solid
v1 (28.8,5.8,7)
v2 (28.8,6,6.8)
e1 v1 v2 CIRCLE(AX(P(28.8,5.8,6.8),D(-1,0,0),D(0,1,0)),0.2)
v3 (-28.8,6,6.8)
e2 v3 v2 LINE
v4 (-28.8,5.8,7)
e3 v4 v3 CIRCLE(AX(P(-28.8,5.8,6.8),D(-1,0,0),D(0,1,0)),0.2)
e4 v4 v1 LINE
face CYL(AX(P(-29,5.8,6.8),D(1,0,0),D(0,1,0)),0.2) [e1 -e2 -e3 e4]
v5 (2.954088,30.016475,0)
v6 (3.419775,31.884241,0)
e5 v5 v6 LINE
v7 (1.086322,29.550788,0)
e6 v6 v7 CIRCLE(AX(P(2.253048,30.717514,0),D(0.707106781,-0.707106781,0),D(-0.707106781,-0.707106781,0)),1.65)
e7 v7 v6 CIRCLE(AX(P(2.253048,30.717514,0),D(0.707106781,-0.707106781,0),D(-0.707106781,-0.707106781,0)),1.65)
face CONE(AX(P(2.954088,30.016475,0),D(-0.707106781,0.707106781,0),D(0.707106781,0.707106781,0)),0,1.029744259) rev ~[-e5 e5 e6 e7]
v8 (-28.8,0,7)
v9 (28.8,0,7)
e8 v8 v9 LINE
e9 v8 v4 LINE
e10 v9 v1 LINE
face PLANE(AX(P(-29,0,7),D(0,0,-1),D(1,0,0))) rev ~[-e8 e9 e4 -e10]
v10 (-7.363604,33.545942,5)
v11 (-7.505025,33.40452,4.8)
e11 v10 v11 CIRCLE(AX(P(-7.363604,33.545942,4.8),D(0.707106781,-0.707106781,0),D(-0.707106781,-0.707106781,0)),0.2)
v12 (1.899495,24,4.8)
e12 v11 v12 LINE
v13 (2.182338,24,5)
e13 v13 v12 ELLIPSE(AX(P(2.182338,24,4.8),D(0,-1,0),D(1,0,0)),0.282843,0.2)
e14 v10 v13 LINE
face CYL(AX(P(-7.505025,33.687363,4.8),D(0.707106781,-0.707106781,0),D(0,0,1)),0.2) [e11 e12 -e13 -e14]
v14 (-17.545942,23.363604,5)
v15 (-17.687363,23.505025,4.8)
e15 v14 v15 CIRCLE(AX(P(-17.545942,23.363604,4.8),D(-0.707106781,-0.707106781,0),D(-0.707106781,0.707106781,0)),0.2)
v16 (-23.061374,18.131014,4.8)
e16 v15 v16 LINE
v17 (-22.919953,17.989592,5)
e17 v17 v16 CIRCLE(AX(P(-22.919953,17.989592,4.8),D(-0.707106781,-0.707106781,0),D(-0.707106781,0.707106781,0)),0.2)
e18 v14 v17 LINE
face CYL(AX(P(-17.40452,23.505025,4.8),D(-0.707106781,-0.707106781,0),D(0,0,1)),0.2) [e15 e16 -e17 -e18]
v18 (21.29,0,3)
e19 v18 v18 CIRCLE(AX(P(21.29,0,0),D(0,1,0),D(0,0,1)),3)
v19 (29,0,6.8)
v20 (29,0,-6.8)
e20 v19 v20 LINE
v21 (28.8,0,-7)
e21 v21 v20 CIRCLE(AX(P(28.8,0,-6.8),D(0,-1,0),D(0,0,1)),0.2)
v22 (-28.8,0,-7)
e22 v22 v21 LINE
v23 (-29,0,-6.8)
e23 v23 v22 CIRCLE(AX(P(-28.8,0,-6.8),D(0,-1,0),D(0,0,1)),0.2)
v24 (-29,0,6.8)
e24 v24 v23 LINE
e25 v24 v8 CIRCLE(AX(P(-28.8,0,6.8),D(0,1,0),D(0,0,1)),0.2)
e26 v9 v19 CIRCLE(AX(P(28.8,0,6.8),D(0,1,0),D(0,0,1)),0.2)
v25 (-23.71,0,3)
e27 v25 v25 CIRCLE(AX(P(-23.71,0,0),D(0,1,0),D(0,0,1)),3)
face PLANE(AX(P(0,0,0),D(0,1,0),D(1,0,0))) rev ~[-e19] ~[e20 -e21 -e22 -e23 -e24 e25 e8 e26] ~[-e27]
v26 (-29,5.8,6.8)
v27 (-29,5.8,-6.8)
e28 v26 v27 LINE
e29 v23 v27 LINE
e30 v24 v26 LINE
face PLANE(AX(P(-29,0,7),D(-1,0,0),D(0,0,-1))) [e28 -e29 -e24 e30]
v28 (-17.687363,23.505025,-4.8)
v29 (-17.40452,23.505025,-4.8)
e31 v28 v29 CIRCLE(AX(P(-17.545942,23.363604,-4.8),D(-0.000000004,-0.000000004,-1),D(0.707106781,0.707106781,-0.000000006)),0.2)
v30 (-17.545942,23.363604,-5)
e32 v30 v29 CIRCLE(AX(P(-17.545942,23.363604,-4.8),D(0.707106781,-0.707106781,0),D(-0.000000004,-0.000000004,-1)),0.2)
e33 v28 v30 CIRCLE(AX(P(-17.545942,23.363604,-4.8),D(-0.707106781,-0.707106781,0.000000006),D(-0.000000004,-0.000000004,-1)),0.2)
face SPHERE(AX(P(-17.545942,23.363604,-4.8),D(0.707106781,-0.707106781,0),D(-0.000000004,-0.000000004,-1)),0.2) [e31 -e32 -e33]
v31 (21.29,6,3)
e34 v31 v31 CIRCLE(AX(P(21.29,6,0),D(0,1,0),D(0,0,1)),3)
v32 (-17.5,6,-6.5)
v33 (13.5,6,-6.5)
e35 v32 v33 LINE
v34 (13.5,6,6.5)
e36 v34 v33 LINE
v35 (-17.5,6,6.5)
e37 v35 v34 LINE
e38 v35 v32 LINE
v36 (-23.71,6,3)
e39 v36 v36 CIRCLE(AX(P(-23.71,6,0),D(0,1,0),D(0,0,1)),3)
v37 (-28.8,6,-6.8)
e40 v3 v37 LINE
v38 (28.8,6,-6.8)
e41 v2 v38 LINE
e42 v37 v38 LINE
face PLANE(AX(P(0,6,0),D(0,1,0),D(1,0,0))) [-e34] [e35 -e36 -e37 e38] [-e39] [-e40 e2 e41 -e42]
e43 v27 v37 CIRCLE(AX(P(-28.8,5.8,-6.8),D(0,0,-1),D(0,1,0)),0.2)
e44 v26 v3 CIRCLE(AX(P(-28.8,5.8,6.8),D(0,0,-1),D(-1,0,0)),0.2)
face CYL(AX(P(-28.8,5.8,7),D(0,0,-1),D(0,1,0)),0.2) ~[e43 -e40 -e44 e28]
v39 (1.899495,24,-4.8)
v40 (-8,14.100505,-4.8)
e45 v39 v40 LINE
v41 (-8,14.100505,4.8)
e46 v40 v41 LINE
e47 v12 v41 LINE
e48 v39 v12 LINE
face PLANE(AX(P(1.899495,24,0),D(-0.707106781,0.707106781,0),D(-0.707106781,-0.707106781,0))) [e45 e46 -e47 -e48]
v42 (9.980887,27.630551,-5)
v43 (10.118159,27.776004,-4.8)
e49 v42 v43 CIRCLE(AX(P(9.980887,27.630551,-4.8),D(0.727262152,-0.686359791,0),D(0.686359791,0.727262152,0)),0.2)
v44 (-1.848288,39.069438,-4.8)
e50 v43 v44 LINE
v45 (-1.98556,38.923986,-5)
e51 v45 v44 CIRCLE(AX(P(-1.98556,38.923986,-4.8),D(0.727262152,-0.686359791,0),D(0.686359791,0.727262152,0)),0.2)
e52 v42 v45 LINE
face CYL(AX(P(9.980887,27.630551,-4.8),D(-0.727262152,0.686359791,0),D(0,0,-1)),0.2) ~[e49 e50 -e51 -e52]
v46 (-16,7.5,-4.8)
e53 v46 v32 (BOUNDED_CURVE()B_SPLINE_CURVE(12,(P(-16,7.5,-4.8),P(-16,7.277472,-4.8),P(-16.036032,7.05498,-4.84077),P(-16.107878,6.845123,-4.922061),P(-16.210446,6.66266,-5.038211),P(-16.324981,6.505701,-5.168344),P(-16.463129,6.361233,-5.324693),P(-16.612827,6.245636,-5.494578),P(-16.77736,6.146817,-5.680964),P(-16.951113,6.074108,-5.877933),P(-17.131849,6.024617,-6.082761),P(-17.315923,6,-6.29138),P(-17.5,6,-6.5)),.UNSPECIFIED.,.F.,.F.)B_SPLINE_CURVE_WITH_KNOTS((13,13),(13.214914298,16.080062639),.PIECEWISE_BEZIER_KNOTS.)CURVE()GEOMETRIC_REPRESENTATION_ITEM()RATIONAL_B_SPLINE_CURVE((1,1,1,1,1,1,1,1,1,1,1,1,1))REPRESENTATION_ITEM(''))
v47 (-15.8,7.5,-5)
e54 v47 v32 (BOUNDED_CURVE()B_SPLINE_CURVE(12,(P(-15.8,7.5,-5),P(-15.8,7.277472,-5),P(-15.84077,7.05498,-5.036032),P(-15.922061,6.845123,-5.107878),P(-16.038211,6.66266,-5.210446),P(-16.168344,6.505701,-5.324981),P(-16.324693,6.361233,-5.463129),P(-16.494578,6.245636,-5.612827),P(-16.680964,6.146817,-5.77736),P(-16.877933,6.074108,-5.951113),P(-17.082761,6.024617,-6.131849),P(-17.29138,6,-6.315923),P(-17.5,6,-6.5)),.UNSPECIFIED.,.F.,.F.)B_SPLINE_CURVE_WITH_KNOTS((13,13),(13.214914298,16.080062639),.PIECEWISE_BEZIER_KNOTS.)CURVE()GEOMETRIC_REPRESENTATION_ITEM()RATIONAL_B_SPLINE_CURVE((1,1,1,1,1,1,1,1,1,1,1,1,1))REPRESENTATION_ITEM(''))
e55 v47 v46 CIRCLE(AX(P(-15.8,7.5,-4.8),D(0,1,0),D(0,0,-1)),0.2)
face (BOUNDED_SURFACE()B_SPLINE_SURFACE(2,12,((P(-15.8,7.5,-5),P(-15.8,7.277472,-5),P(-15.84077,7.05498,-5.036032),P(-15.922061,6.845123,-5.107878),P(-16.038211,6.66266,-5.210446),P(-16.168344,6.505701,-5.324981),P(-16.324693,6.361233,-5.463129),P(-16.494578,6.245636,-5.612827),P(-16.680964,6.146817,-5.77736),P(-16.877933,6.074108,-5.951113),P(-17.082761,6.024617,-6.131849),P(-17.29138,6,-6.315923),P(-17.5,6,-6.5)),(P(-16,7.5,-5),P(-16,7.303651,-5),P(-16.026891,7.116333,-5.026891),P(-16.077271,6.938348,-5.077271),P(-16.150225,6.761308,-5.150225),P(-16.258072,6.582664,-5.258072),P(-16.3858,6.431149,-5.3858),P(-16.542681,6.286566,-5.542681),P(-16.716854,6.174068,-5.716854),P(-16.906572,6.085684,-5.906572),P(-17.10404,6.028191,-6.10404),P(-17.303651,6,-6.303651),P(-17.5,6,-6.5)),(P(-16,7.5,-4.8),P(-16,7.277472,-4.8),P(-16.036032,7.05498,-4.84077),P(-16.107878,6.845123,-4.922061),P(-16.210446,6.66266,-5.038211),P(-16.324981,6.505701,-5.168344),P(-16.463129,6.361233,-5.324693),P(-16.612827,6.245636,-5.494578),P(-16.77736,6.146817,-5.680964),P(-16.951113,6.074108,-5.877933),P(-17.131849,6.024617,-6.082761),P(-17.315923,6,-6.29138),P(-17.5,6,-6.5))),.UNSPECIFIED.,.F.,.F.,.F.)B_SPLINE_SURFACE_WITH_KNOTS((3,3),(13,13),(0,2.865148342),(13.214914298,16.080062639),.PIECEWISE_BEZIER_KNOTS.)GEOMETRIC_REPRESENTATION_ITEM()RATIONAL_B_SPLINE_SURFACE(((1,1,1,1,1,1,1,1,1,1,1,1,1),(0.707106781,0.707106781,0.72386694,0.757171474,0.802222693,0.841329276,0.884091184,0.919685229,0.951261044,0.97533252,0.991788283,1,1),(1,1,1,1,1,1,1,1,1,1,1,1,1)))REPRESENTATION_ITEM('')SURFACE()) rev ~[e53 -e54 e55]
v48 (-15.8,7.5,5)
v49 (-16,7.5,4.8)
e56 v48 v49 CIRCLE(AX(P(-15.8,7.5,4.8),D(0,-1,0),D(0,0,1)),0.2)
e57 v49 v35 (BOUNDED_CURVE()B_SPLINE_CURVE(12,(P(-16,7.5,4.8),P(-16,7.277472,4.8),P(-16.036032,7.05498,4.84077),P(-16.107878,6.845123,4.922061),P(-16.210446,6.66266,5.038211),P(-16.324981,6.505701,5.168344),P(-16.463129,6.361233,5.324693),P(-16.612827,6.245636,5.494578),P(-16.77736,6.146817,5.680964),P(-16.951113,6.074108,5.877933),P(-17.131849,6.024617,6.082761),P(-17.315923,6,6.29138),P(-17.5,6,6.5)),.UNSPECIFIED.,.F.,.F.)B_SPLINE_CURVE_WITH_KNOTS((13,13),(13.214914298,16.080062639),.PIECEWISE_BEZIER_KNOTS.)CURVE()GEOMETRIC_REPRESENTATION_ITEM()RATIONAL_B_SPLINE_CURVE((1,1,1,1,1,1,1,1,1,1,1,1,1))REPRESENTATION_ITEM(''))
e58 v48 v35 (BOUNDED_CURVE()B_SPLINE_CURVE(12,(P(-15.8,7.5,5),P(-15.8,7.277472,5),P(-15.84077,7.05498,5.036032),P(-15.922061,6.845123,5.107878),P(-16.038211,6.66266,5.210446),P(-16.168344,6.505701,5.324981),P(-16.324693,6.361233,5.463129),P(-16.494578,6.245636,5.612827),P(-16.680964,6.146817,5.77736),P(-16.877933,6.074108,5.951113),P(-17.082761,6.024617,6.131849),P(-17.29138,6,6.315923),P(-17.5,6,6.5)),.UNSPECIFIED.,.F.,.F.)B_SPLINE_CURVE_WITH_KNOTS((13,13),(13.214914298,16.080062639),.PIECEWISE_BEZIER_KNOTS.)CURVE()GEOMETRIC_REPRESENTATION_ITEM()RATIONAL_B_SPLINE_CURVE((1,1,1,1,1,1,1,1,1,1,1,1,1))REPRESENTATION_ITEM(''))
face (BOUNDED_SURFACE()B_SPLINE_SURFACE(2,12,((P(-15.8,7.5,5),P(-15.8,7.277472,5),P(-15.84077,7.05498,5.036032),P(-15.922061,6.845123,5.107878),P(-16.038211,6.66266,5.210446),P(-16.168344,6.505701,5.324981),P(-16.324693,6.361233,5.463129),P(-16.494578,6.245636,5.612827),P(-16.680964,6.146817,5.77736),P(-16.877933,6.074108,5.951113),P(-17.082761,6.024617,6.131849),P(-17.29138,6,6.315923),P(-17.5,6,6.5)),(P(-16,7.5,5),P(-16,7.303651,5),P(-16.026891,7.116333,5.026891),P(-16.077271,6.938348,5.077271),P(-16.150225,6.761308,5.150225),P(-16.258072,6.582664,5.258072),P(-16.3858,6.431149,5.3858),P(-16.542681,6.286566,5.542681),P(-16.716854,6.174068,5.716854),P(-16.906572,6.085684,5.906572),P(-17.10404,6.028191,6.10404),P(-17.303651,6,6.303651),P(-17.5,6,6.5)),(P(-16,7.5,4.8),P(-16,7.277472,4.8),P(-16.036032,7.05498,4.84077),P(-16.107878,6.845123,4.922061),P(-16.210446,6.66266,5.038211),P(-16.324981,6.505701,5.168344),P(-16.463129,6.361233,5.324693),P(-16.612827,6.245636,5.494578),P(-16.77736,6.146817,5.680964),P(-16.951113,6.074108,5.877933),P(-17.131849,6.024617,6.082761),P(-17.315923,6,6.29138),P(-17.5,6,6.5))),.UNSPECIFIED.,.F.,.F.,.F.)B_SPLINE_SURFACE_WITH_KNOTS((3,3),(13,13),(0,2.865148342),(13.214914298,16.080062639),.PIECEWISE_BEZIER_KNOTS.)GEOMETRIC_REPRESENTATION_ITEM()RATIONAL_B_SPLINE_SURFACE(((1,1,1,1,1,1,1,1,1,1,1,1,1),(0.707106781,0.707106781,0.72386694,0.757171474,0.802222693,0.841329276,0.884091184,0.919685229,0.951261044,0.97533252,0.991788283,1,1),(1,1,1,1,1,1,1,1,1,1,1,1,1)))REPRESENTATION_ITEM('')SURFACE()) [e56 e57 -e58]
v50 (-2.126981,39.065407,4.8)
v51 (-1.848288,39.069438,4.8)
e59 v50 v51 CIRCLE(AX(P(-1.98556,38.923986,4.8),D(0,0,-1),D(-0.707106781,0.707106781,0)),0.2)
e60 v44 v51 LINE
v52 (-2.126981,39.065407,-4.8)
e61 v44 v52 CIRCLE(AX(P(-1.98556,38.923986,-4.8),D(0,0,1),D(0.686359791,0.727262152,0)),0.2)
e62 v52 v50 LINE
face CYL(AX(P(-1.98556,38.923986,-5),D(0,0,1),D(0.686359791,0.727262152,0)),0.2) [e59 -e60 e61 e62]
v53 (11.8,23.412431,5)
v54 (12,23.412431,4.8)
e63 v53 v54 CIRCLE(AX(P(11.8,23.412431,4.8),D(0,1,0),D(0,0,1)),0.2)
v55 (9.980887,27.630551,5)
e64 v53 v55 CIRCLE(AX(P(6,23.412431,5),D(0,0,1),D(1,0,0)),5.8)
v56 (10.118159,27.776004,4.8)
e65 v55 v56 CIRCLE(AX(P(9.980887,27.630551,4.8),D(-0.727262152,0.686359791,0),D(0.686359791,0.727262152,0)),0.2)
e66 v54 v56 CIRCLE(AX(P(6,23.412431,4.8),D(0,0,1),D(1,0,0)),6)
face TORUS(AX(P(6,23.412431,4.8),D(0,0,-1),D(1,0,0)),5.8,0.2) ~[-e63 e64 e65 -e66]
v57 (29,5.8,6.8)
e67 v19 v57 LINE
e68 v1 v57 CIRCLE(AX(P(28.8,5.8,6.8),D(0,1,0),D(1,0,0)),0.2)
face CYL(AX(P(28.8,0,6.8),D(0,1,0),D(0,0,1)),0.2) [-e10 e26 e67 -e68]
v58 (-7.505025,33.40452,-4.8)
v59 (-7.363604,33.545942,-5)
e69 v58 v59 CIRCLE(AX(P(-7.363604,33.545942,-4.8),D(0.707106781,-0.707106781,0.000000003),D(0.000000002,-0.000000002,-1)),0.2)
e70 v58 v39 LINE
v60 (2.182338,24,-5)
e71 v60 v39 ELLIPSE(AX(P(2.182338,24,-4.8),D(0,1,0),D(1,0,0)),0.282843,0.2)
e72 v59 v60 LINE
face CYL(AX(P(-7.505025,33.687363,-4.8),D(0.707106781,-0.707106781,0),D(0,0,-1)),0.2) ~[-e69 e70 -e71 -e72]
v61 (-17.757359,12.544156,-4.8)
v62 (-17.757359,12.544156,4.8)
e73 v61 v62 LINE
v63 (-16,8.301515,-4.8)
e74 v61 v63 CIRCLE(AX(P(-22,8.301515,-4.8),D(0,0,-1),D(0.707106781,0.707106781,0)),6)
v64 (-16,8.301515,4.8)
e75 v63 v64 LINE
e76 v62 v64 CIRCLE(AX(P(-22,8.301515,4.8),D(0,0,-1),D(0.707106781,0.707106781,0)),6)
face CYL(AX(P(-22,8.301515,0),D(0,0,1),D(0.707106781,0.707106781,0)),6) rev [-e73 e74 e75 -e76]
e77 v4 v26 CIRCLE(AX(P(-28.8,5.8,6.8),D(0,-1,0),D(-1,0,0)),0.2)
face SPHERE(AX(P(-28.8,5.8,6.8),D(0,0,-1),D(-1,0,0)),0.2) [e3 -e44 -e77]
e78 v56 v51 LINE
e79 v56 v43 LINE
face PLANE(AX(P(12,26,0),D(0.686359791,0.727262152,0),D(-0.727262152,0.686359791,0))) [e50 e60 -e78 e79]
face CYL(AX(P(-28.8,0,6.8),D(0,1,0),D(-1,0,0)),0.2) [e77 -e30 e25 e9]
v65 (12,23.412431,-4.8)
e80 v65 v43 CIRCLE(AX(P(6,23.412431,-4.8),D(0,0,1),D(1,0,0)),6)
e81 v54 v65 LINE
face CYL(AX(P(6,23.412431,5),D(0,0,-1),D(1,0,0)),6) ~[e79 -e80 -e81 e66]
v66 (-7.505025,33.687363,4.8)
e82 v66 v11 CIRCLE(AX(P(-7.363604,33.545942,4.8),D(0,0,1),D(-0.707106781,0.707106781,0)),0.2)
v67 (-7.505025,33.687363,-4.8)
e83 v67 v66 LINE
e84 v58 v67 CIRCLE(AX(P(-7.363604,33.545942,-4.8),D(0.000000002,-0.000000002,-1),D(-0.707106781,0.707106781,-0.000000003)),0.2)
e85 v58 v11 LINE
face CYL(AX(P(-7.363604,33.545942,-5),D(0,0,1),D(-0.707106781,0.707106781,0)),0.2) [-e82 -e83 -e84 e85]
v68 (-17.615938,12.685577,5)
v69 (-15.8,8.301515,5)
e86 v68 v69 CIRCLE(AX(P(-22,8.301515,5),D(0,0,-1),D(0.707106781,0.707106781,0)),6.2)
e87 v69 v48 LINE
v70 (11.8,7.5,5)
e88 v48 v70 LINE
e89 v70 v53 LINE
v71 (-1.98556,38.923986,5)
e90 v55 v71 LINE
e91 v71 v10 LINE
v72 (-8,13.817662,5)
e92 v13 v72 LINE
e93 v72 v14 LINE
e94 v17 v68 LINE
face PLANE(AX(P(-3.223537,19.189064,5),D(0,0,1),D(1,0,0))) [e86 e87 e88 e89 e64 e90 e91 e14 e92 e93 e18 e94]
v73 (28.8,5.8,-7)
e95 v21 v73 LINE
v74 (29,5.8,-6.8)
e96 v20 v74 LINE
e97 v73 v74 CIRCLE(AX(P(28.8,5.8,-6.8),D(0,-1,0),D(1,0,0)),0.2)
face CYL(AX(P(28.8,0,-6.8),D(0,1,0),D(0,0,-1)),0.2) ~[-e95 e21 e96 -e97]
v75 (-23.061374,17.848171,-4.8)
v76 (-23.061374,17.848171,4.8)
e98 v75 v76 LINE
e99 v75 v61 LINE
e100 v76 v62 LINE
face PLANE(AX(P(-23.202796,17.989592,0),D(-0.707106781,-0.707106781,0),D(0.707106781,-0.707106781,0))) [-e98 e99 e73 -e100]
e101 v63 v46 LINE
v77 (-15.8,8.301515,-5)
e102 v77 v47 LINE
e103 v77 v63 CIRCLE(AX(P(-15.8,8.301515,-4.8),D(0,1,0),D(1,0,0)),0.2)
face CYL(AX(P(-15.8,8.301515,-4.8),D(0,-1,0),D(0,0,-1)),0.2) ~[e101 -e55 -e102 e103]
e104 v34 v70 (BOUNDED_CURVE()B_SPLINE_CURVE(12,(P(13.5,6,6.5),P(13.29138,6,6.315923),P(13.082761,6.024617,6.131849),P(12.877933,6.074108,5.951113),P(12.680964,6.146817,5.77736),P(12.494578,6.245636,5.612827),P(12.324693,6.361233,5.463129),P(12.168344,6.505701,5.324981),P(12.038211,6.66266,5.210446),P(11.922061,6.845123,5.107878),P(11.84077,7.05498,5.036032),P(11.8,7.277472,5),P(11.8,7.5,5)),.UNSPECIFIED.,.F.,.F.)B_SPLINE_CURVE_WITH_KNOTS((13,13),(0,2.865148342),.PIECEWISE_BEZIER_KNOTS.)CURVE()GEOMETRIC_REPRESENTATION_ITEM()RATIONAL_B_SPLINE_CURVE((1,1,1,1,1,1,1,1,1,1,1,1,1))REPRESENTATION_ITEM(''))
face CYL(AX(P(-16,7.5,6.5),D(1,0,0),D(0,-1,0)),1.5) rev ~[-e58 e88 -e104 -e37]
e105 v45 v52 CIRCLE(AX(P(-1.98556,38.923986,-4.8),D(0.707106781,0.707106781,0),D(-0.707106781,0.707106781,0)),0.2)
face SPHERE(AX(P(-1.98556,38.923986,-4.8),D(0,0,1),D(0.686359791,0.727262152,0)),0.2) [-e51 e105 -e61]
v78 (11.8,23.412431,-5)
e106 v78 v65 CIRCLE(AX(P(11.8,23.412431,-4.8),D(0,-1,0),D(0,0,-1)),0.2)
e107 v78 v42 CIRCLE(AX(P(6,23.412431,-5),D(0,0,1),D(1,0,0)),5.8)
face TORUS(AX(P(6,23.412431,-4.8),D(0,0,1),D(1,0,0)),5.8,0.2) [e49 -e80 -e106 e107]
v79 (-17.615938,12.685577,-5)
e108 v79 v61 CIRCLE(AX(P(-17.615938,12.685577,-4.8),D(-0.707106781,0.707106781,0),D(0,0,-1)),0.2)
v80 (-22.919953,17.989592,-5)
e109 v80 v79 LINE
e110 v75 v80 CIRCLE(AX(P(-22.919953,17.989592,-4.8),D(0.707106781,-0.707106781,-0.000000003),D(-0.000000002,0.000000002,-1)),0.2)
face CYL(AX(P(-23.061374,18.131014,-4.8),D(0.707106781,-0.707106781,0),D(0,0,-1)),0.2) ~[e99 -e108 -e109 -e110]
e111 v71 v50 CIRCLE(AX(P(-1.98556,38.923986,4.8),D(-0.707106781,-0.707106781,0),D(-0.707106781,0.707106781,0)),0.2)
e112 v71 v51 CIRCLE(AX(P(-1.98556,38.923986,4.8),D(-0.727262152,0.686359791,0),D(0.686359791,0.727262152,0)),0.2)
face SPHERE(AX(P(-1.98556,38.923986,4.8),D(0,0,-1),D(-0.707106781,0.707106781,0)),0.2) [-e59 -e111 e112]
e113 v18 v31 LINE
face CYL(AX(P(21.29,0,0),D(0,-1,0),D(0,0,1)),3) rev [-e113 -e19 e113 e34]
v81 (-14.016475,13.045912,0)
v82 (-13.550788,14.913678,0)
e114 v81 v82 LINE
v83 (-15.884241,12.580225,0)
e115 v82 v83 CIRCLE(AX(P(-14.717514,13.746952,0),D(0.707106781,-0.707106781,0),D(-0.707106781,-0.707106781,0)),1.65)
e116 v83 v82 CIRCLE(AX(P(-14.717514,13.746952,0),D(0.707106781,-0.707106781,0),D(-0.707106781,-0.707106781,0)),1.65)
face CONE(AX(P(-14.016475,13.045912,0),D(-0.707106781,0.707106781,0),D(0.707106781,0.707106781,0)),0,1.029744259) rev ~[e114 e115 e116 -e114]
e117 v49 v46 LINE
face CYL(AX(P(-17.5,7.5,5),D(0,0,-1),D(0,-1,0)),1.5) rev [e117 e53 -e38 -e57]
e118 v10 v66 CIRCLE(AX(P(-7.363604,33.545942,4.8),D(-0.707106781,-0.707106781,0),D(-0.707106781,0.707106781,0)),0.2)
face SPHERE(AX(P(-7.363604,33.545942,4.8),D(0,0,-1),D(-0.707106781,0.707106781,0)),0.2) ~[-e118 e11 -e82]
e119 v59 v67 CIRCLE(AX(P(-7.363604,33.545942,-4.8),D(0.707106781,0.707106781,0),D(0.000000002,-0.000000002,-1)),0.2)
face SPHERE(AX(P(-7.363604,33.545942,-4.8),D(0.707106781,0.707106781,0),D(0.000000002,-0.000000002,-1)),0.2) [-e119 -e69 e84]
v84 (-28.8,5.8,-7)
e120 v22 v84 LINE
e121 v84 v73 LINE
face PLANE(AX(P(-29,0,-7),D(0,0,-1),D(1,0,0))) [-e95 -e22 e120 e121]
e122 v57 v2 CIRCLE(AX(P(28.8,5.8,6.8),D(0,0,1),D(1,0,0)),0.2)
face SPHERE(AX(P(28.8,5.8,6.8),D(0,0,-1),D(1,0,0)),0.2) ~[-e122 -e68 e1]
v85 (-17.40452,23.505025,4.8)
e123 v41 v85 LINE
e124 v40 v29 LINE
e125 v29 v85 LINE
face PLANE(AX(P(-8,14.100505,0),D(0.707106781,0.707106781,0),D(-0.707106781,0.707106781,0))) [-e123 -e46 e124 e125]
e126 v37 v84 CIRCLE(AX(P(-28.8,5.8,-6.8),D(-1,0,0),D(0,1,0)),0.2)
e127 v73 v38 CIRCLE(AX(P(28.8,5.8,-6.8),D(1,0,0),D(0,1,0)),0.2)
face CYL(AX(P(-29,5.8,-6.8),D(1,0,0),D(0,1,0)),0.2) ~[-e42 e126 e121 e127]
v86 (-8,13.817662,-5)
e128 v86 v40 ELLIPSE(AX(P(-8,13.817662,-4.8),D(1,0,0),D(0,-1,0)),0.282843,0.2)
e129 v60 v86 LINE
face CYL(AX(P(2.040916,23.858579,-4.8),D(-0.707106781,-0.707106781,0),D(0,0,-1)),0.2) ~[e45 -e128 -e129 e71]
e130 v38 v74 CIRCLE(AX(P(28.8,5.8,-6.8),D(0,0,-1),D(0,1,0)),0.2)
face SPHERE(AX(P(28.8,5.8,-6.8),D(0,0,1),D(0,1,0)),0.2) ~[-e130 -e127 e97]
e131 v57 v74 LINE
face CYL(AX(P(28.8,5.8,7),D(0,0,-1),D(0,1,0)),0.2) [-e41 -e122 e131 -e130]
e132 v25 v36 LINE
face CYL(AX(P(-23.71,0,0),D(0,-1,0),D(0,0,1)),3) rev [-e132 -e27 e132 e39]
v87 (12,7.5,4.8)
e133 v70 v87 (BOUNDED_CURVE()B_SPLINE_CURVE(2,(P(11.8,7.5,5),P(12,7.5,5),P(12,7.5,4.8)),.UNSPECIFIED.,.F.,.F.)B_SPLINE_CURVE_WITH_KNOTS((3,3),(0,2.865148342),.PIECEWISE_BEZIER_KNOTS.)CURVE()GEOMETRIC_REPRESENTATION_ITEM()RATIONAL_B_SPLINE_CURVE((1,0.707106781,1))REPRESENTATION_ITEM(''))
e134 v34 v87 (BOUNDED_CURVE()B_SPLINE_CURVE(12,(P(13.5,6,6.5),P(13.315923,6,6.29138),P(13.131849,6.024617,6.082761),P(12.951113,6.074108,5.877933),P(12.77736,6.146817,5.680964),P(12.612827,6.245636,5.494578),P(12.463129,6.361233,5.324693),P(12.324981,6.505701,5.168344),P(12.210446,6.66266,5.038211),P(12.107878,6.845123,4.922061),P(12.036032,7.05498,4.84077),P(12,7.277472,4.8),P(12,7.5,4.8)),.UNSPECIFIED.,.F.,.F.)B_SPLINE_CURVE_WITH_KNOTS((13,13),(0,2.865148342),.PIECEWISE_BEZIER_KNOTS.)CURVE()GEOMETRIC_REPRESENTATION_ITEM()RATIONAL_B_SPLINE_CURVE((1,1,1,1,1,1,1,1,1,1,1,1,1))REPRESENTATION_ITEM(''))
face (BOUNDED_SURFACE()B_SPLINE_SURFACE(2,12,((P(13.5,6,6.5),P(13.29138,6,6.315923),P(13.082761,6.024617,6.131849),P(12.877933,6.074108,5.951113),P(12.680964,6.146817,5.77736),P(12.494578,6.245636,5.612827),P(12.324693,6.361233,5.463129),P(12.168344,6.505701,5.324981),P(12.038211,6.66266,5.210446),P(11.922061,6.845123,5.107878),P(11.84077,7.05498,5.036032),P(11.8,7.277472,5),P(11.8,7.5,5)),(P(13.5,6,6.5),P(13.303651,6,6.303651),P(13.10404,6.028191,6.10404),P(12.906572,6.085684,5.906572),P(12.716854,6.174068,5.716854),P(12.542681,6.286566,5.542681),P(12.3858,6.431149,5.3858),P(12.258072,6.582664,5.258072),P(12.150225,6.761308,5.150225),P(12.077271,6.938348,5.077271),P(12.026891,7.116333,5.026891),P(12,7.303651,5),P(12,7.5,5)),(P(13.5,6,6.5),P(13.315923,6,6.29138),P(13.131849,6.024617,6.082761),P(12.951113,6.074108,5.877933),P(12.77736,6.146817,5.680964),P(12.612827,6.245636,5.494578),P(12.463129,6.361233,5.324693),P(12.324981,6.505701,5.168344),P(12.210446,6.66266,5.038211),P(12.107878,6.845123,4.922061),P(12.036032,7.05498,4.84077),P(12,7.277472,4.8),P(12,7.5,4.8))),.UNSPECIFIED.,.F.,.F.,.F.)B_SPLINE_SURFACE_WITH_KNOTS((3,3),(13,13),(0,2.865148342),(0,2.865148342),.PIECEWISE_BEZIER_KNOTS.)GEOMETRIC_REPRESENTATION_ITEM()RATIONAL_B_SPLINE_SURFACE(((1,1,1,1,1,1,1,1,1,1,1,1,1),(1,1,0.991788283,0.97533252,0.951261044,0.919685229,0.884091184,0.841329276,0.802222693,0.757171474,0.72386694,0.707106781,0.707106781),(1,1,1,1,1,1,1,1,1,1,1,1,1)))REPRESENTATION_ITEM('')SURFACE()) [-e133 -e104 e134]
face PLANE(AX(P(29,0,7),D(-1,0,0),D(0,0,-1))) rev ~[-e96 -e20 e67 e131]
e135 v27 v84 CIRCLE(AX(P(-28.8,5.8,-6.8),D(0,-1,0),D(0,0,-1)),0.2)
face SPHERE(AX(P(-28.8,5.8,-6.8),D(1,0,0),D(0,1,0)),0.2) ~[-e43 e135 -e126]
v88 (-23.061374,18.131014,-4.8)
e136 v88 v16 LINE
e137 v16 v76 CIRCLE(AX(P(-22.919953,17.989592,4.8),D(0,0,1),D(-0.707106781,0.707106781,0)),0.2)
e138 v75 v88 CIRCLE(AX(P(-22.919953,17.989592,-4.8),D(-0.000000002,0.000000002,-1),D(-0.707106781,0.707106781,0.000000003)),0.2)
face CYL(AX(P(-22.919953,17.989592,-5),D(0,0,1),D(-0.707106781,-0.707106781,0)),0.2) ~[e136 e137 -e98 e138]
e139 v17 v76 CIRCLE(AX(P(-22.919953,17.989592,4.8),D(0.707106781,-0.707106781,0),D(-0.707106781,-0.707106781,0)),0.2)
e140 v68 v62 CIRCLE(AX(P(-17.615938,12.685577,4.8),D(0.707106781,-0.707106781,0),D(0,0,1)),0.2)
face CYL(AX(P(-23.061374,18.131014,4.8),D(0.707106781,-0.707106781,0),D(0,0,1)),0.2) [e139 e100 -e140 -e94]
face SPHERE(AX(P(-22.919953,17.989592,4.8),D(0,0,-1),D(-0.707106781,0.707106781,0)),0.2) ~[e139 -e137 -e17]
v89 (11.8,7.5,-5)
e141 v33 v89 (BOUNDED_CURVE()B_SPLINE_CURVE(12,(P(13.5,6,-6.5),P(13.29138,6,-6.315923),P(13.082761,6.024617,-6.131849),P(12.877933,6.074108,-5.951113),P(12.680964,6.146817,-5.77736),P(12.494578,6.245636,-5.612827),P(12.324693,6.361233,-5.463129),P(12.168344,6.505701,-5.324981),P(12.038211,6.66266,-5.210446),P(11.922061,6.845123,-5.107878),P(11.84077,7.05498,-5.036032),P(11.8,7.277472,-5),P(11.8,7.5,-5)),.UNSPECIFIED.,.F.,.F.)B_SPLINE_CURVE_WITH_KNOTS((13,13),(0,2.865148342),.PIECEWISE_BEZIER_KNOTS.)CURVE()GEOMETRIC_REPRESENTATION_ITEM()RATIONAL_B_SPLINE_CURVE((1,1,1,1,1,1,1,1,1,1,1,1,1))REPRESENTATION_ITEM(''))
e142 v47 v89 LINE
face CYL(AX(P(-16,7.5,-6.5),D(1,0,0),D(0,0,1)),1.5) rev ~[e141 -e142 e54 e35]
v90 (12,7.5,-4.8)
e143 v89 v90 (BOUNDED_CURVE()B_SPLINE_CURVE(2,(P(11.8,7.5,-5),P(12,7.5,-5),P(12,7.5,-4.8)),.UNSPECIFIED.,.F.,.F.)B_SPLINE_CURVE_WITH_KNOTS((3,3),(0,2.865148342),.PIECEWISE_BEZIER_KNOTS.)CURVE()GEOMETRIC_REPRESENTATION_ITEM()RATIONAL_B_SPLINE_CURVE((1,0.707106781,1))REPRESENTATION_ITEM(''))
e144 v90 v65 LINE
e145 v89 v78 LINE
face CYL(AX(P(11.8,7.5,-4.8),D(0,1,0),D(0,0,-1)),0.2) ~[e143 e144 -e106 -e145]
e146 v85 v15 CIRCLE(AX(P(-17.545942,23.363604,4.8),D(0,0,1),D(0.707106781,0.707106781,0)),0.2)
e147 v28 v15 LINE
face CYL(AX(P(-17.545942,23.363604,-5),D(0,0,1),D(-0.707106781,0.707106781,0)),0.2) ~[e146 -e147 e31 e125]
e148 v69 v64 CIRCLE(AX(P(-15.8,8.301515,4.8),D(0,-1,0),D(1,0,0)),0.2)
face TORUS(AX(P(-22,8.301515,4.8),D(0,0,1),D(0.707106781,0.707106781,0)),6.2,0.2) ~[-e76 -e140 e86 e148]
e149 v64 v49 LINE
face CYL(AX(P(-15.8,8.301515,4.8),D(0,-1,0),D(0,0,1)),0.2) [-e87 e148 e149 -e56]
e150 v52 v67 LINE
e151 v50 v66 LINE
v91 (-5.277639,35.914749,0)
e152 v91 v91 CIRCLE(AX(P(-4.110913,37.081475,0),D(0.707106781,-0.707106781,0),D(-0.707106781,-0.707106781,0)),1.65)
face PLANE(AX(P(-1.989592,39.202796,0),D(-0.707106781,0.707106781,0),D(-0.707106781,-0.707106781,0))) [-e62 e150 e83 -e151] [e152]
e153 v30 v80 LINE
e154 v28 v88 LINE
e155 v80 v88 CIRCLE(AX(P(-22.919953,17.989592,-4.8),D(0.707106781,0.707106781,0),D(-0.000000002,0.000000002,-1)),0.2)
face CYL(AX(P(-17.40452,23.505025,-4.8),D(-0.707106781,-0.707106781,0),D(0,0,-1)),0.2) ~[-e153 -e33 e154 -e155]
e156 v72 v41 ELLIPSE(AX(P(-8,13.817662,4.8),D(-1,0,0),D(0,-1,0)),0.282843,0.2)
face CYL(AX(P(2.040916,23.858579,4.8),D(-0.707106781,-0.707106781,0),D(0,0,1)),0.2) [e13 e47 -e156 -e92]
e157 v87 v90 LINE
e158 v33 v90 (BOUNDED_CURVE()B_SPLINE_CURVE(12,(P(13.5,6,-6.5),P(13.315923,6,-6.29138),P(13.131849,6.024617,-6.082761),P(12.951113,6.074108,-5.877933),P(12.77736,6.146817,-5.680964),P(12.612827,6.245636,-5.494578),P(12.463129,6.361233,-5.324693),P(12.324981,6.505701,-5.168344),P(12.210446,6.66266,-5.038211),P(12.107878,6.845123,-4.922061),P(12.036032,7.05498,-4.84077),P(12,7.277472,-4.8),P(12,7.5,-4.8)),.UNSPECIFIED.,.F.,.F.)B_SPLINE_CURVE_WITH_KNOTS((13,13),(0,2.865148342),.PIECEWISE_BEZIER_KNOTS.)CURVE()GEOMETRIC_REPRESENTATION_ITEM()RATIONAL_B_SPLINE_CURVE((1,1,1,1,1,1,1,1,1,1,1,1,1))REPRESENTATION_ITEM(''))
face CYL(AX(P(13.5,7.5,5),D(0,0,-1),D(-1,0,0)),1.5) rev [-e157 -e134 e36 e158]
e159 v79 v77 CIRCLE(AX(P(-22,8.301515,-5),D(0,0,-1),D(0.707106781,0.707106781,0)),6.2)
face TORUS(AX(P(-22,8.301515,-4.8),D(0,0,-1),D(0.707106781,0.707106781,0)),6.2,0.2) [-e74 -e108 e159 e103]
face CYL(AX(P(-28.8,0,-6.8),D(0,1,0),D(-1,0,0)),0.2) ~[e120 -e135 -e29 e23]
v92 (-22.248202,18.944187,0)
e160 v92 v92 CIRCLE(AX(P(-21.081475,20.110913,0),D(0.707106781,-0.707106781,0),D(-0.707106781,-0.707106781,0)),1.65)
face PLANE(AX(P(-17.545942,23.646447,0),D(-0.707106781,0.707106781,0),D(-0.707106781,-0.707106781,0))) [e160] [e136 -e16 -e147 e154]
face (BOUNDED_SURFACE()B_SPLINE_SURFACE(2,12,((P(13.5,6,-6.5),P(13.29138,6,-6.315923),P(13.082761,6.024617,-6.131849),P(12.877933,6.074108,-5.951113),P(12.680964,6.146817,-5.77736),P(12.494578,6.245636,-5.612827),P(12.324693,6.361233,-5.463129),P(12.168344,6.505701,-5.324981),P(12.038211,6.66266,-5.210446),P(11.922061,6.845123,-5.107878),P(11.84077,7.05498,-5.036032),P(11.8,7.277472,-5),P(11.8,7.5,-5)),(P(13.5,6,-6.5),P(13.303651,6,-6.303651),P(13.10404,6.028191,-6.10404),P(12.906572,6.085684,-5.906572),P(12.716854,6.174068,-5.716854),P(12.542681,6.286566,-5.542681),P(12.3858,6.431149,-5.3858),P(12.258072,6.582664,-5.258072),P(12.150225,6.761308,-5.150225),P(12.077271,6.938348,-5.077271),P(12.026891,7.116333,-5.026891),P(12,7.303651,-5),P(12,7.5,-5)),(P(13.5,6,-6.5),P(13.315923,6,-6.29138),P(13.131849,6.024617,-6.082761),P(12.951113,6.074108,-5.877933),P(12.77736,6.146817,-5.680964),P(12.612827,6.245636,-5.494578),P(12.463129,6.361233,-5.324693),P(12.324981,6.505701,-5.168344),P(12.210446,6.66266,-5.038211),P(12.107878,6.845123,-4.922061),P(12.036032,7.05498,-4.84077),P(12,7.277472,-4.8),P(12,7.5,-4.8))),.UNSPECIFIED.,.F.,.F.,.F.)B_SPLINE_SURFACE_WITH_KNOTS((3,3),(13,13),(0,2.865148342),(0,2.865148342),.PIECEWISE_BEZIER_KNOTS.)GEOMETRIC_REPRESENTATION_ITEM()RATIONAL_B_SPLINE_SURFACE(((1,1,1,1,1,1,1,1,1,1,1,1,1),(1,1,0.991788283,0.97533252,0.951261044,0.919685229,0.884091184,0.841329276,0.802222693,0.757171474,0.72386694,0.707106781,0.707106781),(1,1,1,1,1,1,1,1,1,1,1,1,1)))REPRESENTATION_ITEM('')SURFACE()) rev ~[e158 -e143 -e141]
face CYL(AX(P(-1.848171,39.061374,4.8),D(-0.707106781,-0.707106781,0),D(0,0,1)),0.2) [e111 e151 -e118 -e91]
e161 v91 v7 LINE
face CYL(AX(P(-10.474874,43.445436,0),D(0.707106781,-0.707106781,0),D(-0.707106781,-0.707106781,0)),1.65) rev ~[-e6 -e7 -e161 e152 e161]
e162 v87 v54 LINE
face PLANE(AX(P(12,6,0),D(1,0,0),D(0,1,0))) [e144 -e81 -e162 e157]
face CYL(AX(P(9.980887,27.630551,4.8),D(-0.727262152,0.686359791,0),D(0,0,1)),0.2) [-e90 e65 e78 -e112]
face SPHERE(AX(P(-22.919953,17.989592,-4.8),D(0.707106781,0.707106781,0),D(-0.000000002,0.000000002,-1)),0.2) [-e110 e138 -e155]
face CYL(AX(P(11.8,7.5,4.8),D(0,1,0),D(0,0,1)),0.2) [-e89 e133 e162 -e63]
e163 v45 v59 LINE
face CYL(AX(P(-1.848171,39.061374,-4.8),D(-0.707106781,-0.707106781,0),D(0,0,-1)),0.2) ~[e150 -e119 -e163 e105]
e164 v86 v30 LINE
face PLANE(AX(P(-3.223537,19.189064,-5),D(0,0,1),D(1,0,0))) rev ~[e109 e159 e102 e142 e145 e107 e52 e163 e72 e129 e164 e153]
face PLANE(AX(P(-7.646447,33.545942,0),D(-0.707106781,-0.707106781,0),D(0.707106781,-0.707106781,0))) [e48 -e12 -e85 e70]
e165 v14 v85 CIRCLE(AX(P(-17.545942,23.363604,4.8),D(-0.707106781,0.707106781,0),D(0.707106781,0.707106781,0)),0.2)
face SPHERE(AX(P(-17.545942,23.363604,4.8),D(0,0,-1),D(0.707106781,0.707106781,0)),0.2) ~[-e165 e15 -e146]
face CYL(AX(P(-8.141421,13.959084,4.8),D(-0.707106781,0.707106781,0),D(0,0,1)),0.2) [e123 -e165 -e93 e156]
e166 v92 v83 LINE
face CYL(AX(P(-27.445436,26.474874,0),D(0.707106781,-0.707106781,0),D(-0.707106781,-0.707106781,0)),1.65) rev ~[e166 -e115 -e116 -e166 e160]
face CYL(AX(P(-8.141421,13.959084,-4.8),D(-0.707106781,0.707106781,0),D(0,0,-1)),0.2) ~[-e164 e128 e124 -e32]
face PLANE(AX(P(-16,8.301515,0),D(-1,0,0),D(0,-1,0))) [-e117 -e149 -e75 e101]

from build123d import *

# Parameters (mm, degrees)
SKETCH1_W                 = 58
SKETCH1_H                 = 14
SKETCH1_R                 = 3
BOSS_EXTRUDE1_DEPTH       = 6
BOSS_EXTRUDE2_DEPTH       = 5
M4X0_7_TAPPED_HOLE1_D     = 3.3
M4X0_7_TAPPED_HOLE1_DEPTH = 9
M4X0_7_TAPPED_HOLE1_TIP   = 0.991420021
FILLET1_R                 = 6
FILLET2_R                 = 1.5
FILLET3_R                 = 0.2


with BuildPart() as part:
    # Sketch1 → Boss-Extrude1 (new body)
    with BuildSketch(Plane(origin=(0, 0, 0), x_dir=(1, 0, 0), z_dir=(0, 1, 0))):
        Rectangle(SKETCH1_W, SKETCH1_H)
        with Locations(Location((-23.71, 0, 0), (0, 0, 270))):
            Circle(SKETCH1_R, mode=Mode.SUBTRACT)
        with Locations(Location((21.29, 0, 0), (0, 0, 270))):
            Circle(SKETCH1_R, mode=Mode.SUBTRACT)
    extrude(amount=BOSS_EXTRUDE1_DEPTH)

    # Sketch2 → Boss-Extrude2 (add, symmetric)
    with BuildSketch(Plane.XY):
        with BuildLine():
            Line((12, 26), (-1.98959236, 39.202795796))
            Line((-1.98959236, 39.202795796), (-7.646446609, 33.545941546))
            Line((-7.646446609, 33.545941546), (1.899494937, 24))
            Line((1.899494937, 24), (-8, 14.100505063))
            Line((-8, 14.100505063), (-17.545941546, 23.646446609))
            Line((-17.545941546, 23.646446609), (-23.202795796, 17.98959236))
            Line((-23.202795796, 17.98959236), (-17.757359313, 12.544155877))
            ThreePointArc((-17.757359313, 12.544155877), (-16.456722805, 10.597615784), (-16, 8.30151519))
            Line((-16, 8.30151519), (-16, 6))
            Line((-16, 6), (12, 6))
            Line((12, 6), (12, 26))
        make_face()
    extrude(amount=BOSS_EXTRUDE2_DEPTH, both=True)

    # M4x0.7 Tapped Hole1
    with Locations(Plane(origin=(-20.596194078, 20.596194078, 0), x_dir=(0.7071067811865507, 0.7071067811865445, 0), z_dir=(-0.7071067811865445, 0.7071067811865507, 0))):
        with Locations((-0.686291501, 0), (23.313708499, 0)):
            Hole(M4X0_7_TAPPED_HOLE1_D / 2, depth=M4X0_7_TAPPED_HOLE1_DEPTH)
            with Locations((0, 0, -(M4X0_7_TAPPED_HOLE1_DEPTH + M4X0_7_TAPPED_HOLE1_TIP / 2))):  # 118° drill point
                Cone(0, M4X0_7_TAPPED_HOLE1_D / 2, M4X0_7_TAPPED_HOLE1_TIP, mode=Mode.SUBTRACT)

    # Fillet1
    fillet1_edges = [part.edges().sort_by_distance(p)[0] for p in [
        (12, 26, 0),
    ]]
    fillet(fillet1_edges, radius=FILLET1_R)

    # Fillet2
    fillet2_edges = [part.edges().sort_by_distance(p)[0] for p in [
        (12, 6, 0),
        (-2, 6, -5),
        (-16, 6, 0),
        (-2, 6, 5),
    ]]
    fillet(fillet2_edges, radius=FILLET2_R)

    # Fillet3
    fillet3_edges = [part.edges().sort_by_distance(p)[0] for p in [
        (29, 6, 0),
        (0, 6, -7),
        (-4.818019485, 36.374368671, -5),
        (-1.98959236, 39.202795796, 0),
        (-2.873475836, 28.772970773, -5),
        (-7.646446609, 33.545941546, 0),
        (-3.050252532, 19.050252532, -5),
        (-12.772970773, 18.873475836, -5),
        (-20.374368671, 20.818019485, -5),
        (-17.545941546, 23.646446609, 0),
        (-20.480077554, 15.266874119, -5),
        (-23.202795796, 17.98959236, 0),
        (-16.456722805, 10.597615784, -5),
        (-16, 7.900757595, -5),
        (-4.818019485, 36.374368671, 5),
        (-2.873475836, 28.772970773, 5),
        (-3.050252532, 19.050252532, 5),
        (-12.772970773, 18.873475836, 5),
        (-20.374368671, 20.818019485, 5),
        (-20.480077554, 15.266874119, 5),
        (-16.456722805, 10.597615784, 5),
        (-16, 7.900757595, 5),
        (-29, 6, 0),
        (4.064283192, 33.489399677, -5),
        (4.064283192, 33.489399677, 5),
        (11.509489653, 25.788461743, -5),
        (11.509489653, 25.788461743, 5),
        (12, 15.456215324, -5),
        (12, 15.456215324, 5),
        (-16.530926639, 6.355055975, 5.530926639),
        (12.530926639, 6.355055975, 5.530926639),
        (-16.530926639, 6.355055975, -5.530926639),
        (12.530926639, 6.355055975, -5.530926639),
        (-29, 3, -7),
        (29, 3, -7),
        (29, 3, 7),
        (-29, 3, 7),
        (0, 6, 7),
    ]]
    fillet(fillet3_edges, radius=FILLET3_R)


solid = part.part
